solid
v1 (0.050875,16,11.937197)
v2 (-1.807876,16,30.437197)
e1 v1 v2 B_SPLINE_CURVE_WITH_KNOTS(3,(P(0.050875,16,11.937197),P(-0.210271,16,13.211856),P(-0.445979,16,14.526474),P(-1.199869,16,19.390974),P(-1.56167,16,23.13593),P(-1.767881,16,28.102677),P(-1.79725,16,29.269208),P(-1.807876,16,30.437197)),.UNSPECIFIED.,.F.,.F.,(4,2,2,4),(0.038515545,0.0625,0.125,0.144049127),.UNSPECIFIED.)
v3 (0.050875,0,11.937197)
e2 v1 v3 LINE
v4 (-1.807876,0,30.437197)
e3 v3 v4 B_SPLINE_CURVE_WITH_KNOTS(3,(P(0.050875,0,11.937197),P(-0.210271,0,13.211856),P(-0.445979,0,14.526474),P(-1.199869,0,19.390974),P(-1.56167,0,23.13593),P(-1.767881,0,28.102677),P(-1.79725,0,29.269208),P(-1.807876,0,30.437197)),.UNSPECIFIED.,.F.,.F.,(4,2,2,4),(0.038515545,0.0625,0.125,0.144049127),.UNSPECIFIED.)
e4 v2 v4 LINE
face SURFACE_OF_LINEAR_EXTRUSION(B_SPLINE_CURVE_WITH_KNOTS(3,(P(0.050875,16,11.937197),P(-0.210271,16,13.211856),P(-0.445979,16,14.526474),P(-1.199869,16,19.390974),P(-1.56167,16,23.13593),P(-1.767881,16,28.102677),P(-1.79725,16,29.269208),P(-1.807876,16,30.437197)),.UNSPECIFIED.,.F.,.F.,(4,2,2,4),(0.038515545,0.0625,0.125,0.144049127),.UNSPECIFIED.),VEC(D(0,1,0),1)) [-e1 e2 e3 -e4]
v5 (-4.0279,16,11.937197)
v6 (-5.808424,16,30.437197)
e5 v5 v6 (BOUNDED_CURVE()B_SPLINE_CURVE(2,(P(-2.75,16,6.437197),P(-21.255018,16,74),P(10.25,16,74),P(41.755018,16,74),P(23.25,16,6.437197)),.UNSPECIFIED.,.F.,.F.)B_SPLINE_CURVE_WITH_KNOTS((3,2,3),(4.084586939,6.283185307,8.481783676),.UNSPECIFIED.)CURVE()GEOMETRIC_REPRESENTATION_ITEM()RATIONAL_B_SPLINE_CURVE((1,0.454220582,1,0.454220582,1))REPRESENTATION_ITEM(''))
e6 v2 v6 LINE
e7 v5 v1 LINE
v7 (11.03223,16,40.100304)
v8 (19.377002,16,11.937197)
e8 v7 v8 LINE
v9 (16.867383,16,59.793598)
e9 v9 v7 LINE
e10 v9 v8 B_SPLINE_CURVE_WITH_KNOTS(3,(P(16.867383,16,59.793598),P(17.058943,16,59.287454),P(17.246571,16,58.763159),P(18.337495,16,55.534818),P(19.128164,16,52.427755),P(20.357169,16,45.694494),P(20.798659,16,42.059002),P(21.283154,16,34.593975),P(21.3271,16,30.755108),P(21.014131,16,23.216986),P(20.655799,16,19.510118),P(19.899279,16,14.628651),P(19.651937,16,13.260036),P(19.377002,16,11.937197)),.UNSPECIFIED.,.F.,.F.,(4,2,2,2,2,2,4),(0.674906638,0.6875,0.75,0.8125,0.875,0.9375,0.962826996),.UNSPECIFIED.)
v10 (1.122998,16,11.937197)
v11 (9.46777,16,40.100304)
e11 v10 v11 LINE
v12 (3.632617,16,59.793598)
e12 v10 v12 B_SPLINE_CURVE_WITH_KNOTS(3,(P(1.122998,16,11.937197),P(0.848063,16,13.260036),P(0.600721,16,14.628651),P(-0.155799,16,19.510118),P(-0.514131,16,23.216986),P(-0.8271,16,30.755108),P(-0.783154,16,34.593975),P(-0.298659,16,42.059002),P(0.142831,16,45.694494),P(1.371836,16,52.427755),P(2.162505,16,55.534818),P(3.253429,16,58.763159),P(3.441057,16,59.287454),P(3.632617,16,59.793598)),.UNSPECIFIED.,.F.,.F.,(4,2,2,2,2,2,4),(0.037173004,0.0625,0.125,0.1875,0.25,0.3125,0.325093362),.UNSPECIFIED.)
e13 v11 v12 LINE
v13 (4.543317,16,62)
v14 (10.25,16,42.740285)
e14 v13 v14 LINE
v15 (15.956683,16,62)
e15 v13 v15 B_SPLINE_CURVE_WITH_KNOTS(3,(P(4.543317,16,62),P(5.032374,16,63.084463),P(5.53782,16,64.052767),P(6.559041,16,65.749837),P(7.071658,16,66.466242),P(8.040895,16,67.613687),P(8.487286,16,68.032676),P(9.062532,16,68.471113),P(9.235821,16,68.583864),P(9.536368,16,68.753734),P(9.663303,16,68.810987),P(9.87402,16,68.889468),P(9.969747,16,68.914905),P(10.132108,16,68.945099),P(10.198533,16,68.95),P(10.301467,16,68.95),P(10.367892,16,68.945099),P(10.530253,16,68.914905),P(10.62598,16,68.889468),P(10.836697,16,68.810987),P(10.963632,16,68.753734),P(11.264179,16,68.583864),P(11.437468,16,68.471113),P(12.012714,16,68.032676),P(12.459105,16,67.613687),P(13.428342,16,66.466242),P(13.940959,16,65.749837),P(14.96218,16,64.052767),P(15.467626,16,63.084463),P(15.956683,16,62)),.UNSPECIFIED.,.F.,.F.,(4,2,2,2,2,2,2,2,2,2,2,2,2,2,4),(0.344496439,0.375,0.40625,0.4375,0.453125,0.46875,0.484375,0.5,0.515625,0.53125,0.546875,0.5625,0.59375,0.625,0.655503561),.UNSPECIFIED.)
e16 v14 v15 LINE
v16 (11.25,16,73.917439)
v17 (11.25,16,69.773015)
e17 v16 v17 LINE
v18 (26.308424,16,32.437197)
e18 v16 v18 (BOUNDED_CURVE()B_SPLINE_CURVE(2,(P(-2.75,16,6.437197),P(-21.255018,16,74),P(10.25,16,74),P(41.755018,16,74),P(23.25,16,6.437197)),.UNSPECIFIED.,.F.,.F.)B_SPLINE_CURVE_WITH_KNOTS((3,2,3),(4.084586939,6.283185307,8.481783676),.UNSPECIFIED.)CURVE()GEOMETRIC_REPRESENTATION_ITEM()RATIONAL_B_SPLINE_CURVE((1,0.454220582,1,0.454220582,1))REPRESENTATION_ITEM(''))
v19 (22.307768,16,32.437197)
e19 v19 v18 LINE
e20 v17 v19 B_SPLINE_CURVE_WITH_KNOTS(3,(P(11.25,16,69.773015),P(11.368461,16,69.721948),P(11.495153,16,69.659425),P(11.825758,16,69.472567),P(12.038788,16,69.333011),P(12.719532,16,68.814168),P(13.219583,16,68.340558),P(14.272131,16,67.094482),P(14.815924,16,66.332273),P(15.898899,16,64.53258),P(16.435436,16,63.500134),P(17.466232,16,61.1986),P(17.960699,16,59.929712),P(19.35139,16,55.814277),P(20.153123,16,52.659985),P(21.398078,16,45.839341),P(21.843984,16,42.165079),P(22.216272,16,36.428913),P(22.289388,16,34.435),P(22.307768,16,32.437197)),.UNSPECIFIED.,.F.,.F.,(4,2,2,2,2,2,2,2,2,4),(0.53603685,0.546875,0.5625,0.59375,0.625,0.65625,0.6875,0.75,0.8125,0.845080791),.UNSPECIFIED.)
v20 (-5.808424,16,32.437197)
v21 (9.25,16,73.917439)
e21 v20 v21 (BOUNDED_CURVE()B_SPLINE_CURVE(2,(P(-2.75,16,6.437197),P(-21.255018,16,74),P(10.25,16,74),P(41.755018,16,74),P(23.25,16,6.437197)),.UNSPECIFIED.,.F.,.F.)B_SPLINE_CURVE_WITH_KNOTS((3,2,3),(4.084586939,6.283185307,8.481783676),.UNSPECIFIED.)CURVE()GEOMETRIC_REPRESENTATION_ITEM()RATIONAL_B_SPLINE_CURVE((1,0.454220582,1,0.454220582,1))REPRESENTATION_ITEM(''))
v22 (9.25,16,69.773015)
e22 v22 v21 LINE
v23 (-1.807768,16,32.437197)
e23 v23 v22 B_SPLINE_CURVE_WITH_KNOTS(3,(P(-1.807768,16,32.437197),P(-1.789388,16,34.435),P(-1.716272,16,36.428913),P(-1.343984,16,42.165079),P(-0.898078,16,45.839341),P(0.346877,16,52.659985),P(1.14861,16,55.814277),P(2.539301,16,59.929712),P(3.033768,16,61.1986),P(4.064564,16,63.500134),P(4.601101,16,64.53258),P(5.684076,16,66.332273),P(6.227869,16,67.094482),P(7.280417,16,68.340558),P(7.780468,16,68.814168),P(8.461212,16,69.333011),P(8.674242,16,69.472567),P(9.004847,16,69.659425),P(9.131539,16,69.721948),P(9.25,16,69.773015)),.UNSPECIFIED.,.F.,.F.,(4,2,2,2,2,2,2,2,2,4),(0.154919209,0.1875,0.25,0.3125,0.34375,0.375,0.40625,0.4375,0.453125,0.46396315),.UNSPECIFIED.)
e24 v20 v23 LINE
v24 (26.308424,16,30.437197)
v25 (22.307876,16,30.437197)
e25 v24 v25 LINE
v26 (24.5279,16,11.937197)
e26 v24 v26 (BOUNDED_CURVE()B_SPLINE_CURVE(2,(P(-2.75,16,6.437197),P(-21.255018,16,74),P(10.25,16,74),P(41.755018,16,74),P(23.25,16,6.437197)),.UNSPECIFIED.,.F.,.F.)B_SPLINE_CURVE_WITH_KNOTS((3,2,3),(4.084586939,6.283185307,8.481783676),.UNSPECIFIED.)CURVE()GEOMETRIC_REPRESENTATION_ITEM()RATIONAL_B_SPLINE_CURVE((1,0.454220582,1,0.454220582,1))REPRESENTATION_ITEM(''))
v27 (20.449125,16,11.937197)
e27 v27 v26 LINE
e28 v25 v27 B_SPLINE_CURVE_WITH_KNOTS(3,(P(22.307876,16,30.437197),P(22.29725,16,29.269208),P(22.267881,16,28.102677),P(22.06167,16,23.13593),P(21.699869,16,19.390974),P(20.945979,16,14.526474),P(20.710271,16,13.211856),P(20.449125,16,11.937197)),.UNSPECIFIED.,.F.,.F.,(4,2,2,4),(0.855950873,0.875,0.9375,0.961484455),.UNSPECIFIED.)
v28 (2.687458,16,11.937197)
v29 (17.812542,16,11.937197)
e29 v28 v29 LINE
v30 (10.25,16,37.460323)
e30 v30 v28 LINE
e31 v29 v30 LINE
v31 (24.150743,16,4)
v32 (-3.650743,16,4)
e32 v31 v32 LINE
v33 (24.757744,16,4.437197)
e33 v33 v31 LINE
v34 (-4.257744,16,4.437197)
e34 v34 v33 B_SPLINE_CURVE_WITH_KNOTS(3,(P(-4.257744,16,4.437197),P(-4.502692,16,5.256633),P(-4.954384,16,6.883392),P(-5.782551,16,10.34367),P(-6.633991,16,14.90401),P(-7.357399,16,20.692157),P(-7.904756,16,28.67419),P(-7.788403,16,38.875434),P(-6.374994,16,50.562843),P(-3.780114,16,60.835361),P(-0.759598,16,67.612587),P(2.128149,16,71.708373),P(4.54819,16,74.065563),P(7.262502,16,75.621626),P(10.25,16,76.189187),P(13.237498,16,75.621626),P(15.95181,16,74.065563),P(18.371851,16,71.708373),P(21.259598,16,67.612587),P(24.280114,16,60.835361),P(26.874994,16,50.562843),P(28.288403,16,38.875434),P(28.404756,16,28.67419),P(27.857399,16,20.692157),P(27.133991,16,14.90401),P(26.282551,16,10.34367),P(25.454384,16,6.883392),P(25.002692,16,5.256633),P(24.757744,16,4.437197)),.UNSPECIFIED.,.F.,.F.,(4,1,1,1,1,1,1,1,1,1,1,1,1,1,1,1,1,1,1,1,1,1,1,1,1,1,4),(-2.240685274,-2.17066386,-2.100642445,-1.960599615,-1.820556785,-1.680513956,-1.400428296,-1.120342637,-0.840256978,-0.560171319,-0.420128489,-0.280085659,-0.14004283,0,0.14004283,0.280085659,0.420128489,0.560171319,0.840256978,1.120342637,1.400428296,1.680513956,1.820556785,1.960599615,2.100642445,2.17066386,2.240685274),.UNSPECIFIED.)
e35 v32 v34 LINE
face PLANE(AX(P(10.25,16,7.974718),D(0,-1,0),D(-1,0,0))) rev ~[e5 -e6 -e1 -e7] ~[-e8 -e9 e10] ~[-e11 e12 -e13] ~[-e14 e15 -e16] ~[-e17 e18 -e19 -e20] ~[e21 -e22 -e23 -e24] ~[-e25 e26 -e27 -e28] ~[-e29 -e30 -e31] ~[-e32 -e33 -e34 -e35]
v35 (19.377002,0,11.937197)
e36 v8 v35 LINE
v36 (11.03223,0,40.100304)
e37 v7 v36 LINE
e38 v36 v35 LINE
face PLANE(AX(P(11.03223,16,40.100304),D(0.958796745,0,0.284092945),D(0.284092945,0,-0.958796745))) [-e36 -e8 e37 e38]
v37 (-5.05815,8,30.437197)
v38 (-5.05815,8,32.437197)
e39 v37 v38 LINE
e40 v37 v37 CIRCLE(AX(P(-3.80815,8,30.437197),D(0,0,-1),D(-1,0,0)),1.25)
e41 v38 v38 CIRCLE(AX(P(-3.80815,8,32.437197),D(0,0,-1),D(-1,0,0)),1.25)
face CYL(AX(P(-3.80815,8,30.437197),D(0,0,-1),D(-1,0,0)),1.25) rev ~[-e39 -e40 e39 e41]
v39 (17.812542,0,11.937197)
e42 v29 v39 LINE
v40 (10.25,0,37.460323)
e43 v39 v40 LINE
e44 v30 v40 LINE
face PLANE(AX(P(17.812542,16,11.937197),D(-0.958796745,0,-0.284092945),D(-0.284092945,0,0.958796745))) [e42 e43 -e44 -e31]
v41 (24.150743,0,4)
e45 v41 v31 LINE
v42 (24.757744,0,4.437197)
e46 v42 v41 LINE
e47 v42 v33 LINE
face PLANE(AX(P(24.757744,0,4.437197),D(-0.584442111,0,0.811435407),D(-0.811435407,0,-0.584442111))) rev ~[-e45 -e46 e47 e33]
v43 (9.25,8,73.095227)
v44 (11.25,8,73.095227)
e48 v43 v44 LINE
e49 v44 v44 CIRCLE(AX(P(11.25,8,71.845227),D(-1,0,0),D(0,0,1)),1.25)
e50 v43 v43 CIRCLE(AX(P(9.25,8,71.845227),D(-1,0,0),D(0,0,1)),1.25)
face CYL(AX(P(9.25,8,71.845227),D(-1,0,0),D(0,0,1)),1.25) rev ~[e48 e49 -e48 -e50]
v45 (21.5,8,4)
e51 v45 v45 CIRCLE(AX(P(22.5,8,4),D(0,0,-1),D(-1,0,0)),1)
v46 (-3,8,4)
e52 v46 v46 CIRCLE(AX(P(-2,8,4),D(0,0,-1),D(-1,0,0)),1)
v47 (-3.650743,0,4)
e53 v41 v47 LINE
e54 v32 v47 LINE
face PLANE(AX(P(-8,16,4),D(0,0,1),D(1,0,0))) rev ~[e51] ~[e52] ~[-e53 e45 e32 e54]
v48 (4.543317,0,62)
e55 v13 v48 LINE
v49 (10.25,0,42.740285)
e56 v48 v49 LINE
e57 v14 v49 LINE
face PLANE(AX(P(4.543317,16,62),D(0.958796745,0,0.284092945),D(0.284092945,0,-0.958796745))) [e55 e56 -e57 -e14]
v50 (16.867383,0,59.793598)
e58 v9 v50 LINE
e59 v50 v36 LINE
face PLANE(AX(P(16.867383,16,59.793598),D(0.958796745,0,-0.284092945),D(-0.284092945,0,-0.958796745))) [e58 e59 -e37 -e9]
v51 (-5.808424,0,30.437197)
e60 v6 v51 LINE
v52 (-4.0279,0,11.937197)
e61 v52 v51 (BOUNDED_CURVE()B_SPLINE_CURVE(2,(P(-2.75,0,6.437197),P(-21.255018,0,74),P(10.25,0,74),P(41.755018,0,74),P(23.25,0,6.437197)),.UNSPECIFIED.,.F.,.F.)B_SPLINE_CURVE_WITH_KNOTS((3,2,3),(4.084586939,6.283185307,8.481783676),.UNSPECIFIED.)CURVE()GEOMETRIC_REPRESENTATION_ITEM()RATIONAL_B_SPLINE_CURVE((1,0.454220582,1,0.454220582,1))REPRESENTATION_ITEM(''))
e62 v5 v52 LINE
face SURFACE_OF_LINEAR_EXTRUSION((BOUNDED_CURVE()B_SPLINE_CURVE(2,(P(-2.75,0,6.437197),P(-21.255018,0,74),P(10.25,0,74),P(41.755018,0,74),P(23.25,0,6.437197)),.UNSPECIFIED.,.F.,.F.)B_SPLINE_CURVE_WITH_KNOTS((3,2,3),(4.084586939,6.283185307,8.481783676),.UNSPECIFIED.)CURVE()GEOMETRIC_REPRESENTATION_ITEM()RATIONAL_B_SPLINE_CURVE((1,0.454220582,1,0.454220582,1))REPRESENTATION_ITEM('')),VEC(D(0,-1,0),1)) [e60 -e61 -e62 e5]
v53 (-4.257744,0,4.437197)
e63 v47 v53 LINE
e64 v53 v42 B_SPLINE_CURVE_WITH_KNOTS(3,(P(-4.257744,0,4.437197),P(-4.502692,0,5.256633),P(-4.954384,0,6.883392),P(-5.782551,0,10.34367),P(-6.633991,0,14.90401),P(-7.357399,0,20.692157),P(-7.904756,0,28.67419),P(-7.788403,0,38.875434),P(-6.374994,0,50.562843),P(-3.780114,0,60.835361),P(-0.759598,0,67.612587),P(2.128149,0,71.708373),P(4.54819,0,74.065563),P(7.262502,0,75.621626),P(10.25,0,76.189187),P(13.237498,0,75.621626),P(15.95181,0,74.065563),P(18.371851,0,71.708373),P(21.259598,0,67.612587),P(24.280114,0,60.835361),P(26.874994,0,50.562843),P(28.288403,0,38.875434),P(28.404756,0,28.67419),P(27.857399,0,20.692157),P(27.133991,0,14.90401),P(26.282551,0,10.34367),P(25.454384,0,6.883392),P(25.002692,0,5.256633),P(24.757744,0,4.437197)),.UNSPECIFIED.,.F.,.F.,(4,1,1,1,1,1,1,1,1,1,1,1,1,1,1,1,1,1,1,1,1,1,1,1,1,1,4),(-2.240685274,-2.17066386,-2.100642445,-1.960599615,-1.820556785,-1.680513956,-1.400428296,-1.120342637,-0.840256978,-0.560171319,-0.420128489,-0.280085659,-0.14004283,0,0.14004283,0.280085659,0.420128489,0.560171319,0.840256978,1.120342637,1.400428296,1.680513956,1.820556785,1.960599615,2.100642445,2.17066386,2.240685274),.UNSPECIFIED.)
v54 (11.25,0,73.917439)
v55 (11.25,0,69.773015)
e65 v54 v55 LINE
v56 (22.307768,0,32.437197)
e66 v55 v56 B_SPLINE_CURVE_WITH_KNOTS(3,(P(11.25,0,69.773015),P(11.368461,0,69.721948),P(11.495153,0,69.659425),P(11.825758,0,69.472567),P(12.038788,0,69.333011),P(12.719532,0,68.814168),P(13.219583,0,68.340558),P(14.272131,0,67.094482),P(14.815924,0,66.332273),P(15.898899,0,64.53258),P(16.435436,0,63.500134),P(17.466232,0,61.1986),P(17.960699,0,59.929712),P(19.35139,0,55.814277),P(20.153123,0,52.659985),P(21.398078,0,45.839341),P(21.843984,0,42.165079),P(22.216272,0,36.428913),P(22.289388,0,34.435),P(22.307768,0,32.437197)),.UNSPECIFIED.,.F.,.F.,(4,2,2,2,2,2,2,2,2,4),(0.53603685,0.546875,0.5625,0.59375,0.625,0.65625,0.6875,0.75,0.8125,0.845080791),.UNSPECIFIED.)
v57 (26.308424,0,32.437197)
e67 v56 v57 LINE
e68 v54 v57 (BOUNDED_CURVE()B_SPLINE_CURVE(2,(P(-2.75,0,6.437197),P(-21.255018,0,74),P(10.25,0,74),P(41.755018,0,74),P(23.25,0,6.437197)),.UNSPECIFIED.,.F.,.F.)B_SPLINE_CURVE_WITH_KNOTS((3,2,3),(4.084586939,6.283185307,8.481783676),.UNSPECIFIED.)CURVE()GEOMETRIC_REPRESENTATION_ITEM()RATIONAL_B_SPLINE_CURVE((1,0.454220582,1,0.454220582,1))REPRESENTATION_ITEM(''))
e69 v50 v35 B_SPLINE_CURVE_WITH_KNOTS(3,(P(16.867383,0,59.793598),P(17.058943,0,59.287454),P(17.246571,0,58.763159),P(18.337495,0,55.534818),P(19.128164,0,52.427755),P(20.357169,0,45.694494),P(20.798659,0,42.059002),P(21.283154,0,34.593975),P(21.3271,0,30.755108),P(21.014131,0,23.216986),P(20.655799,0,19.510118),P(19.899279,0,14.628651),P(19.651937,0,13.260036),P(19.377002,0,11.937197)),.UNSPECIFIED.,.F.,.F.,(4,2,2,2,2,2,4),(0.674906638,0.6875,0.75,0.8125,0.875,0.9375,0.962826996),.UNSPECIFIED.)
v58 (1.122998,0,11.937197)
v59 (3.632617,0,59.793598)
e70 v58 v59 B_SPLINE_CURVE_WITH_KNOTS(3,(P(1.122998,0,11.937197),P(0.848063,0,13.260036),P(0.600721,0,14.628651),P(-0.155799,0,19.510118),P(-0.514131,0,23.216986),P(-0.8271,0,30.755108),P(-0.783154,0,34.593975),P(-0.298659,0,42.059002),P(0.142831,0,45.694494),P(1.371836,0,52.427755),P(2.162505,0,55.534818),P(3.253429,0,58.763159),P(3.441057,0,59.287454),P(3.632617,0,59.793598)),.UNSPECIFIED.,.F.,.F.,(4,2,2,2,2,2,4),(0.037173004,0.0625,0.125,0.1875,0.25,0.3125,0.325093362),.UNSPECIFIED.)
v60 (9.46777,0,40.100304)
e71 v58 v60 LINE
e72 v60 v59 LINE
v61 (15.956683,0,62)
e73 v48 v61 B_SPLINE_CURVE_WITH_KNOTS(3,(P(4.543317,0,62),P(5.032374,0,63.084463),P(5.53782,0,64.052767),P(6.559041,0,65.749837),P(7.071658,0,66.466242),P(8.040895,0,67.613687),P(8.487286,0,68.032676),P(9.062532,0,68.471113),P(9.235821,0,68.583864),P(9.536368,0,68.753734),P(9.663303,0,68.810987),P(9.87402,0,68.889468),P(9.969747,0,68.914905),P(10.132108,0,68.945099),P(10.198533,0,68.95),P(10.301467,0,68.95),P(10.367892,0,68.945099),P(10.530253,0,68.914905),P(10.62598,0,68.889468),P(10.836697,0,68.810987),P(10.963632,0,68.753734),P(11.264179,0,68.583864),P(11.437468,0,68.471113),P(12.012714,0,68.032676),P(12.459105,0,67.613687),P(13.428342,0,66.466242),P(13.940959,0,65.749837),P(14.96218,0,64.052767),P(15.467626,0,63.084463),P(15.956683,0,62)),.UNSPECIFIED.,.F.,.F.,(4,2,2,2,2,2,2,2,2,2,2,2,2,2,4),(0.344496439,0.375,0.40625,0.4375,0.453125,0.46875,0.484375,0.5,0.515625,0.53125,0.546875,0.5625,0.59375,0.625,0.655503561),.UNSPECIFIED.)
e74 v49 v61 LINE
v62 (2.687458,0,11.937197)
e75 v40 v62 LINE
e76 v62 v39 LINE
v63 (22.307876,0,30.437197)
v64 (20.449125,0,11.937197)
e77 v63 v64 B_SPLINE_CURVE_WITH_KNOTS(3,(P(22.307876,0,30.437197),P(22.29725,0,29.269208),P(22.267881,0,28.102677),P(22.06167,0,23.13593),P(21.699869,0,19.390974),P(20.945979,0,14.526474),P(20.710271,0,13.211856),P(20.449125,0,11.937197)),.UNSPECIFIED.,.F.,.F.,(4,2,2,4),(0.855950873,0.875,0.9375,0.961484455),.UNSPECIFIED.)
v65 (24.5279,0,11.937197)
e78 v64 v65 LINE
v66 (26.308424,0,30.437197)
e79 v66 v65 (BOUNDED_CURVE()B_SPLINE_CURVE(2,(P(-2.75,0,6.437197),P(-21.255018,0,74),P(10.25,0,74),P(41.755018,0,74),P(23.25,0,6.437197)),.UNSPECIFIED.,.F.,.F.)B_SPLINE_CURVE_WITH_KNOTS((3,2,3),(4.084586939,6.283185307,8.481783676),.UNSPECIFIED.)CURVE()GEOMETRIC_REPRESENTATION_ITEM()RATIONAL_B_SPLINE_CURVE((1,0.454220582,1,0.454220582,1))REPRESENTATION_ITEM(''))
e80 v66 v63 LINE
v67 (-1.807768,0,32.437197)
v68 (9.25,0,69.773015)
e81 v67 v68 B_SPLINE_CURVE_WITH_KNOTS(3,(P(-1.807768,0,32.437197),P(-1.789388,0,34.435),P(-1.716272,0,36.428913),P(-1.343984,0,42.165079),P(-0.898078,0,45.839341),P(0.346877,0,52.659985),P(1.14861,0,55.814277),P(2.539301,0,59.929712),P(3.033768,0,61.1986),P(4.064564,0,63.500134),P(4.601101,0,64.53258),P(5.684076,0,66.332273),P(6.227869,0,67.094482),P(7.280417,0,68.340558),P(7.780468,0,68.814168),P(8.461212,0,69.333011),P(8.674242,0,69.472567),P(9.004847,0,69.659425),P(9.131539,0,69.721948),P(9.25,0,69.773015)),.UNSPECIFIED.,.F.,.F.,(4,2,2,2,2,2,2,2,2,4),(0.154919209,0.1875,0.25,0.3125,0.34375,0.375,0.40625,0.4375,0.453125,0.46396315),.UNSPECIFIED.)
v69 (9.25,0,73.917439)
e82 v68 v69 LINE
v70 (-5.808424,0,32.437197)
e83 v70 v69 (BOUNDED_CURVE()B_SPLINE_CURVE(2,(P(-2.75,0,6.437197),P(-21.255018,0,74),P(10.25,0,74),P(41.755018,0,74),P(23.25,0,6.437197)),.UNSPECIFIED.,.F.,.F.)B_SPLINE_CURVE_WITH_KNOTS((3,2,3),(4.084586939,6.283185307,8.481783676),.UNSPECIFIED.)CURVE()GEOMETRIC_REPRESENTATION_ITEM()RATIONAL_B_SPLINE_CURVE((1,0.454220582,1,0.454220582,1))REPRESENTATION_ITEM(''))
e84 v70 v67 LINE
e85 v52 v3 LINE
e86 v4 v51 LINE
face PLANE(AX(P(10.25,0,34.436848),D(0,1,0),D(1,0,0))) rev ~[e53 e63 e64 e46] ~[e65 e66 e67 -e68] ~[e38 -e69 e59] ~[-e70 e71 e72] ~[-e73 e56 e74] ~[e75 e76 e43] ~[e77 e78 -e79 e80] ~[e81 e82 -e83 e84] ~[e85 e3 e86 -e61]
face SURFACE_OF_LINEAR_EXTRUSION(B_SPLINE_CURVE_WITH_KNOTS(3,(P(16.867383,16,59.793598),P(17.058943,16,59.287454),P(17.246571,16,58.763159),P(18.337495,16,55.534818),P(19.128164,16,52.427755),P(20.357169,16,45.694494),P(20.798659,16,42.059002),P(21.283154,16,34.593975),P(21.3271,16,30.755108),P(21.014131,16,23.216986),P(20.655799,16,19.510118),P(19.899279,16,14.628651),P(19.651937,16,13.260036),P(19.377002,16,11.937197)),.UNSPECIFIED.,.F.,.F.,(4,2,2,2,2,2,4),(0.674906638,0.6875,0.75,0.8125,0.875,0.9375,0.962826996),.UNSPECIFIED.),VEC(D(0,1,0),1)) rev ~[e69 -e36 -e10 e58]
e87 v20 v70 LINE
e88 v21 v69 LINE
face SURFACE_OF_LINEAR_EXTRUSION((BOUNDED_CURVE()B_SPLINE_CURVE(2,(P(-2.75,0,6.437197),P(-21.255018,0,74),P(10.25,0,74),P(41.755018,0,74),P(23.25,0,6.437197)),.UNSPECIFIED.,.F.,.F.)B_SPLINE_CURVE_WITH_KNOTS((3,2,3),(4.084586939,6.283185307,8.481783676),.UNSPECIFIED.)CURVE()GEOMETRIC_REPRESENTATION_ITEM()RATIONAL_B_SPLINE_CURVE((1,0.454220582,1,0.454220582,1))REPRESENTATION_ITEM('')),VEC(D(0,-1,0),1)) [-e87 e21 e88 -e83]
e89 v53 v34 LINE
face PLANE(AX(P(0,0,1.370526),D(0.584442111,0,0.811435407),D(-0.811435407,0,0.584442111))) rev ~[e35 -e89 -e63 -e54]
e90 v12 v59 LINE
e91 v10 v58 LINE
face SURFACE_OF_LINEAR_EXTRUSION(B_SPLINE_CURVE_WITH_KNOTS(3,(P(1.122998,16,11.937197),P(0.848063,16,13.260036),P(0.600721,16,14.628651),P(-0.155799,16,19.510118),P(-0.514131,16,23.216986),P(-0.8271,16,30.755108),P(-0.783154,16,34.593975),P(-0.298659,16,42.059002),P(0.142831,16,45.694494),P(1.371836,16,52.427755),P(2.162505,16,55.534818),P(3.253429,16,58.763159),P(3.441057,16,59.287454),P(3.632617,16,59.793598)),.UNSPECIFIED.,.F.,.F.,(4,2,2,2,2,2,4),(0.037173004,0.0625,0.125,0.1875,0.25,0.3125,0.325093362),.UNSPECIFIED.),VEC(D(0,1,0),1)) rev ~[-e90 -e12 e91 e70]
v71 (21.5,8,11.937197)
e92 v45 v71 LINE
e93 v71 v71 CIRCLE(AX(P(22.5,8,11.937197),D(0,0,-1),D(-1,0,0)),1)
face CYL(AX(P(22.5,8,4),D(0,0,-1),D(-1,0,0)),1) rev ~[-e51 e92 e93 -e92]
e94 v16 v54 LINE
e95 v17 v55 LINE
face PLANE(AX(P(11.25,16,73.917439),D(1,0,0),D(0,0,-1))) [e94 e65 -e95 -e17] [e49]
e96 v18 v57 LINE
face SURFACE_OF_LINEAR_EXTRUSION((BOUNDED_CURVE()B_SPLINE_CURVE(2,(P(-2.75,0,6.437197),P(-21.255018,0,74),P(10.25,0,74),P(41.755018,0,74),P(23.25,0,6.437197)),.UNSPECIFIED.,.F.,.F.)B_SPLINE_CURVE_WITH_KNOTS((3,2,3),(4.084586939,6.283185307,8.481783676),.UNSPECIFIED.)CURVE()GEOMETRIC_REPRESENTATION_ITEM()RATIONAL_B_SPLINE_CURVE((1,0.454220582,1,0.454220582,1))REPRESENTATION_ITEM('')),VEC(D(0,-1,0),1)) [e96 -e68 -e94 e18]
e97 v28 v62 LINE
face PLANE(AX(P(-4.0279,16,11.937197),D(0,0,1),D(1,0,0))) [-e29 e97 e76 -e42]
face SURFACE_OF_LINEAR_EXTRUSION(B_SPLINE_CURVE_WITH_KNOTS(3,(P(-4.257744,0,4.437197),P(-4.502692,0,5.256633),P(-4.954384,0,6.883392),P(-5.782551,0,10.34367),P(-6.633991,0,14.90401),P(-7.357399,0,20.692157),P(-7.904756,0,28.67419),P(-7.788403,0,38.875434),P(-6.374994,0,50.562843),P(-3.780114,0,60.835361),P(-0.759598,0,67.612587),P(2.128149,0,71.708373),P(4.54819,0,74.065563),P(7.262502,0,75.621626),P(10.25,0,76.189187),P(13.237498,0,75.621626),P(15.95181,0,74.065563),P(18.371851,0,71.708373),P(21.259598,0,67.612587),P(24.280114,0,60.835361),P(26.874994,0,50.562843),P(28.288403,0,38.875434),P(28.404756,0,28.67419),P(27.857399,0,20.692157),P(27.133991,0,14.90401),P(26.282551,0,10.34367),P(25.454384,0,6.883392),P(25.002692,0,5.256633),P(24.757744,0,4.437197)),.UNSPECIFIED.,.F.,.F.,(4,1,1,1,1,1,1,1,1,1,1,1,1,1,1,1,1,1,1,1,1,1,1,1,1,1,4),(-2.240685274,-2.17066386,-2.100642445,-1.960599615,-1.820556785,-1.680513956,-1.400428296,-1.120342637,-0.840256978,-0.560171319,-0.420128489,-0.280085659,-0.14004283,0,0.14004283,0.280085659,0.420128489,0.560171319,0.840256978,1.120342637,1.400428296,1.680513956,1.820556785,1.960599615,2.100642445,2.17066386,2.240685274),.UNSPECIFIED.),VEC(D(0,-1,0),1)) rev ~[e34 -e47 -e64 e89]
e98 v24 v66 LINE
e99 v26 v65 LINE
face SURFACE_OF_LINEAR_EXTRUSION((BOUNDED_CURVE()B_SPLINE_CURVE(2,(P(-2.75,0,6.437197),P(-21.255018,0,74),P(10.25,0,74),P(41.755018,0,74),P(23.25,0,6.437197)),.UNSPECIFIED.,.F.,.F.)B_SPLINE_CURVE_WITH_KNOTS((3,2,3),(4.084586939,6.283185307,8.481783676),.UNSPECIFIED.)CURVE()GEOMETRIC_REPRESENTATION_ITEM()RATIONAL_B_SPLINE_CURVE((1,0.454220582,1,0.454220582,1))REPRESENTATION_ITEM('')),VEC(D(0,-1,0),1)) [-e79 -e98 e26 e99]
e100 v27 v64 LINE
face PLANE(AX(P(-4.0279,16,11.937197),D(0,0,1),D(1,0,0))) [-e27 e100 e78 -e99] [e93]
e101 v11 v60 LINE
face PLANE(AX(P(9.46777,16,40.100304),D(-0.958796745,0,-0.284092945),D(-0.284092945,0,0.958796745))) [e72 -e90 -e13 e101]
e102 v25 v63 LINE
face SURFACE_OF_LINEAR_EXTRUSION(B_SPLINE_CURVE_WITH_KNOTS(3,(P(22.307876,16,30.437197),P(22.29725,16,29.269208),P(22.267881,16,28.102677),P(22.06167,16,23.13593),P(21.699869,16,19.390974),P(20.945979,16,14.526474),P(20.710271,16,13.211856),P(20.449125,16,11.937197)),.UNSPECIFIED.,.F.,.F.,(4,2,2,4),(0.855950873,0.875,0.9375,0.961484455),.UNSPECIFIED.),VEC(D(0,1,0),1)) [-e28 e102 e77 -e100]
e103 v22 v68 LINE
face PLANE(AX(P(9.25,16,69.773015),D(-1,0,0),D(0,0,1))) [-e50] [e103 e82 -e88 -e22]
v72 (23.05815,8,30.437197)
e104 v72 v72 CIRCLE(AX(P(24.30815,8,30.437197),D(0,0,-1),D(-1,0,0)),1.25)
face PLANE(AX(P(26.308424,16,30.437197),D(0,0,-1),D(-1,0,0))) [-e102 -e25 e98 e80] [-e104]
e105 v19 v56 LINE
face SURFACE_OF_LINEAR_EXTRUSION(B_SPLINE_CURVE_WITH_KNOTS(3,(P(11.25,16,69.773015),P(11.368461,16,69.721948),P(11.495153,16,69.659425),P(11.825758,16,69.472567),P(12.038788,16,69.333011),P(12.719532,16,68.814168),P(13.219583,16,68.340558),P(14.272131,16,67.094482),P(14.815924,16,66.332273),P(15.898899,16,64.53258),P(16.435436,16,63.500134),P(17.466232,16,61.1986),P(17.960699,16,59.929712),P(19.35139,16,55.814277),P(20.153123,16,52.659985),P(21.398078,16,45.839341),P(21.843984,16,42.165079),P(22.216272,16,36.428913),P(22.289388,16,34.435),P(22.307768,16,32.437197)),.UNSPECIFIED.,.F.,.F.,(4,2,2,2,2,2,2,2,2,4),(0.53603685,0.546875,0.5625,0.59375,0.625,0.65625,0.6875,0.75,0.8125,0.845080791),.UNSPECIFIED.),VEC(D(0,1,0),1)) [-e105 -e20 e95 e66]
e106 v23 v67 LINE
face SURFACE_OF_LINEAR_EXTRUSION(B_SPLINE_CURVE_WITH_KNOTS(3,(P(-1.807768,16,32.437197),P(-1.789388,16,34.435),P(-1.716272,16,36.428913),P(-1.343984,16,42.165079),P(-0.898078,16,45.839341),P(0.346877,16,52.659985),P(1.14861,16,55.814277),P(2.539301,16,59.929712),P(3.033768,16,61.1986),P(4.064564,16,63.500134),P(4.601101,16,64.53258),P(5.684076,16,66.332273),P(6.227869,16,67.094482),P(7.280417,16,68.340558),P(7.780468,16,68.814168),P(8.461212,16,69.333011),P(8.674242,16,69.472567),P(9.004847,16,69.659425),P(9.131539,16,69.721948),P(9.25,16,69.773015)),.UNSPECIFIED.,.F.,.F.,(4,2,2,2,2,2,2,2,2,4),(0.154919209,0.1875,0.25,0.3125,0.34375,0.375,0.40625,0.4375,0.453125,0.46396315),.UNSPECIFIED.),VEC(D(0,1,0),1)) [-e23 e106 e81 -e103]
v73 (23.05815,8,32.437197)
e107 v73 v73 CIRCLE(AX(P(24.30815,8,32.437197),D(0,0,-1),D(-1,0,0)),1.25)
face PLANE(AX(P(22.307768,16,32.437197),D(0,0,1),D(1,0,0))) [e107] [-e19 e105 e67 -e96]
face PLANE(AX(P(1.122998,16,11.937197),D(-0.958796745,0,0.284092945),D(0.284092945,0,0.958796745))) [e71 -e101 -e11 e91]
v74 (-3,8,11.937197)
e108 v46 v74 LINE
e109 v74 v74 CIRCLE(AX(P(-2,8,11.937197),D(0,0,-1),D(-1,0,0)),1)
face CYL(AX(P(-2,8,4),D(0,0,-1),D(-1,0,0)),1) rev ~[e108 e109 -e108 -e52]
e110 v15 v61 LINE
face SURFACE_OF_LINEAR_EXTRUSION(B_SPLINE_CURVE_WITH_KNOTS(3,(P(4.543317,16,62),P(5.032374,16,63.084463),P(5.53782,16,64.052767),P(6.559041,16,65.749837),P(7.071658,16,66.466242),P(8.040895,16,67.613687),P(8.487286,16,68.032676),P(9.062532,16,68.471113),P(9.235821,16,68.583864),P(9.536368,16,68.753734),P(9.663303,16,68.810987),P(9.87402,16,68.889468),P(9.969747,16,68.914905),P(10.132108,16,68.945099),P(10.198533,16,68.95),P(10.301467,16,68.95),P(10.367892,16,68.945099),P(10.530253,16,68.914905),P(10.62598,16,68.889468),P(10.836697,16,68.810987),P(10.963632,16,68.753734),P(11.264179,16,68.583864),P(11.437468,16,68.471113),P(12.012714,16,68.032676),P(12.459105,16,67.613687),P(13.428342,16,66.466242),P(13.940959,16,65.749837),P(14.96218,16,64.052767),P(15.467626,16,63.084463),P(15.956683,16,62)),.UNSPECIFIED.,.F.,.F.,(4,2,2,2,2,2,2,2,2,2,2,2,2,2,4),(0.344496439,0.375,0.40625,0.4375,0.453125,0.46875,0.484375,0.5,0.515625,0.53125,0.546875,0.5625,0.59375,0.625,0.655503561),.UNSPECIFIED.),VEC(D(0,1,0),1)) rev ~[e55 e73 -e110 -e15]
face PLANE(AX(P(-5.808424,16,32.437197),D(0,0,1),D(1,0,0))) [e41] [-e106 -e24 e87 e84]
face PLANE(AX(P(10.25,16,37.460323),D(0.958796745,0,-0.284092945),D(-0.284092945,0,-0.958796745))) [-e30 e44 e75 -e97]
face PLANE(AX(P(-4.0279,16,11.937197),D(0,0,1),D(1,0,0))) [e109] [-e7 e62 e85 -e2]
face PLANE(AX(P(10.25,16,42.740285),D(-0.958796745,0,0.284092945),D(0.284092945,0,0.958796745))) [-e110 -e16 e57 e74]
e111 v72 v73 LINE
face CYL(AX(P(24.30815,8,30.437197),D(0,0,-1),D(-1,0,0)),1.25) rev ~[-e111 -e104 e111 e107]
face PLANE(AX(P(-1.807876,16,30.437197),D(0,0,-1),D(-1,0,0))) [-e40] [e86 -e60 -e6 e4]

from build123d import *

# Parameters (mm, degrees)
BOSS_EXTRUDE1_DEPTH = 16
BOSS_EXTRUDE2_DEPTH = 16
BOSS_EXTRUDE3_DEPTH = 16
BOSS_EXTRUDE4_DEPTH = 16
SKETCH9_W           = 40
SKETCH9_H           = 24
CUT_EXTRUDE4_DEPTH  = 22
SKETCH10_R          = 1
CUT_EXTRUDE5_DEPTH  = 10
SKETCH25_R          = 1.25
CUT_EXTRUDE12_DEPTH = 4
SKETCH23_R          = 1.25
CUT_EXTRUDE13_DEPTH = 4
SKETCH24_R          = 1.25
CUT_EXTRUDE14_DEPTH = 3


with BuildPart() as part:
    # Sketch1 → Boss-Extrude1 (new body)
    with BuildSketch(Plane(origin=(0, 0, 0), x_dir=(1, 0, 0), z_dir=(0, 1, 0))):
        with BuildLine():
            Line((0, 0), (0, -1.370526213))
            Line((0, -1.370526213), (-4.257744064, -4.437196595))
            add(Edge.make_bspline(
                [(-4.257744064, -4.437196595), (-4.502691757, -5.256633093), (-4.954383697, -6.883392156), (-5.782550999, -10.343670153), (-6.633990879, -14.904009628), (-7.357399252, -20.692157262), (-7.904756341, -28.674189668), (-7.788402639, -38.875434181), (-6.374993684, -50.562842935), (-3.780113753, -60.835361347), (-0.759598491, -67.612587129), (2.128148554, -71.70837272), (4.548190426, -74.065562813), (7.262501719, -75.621626405), (10.25, -76.189186798), (13.237498281, -75.621626405), (15.951809575, -74.065562813), (18.371851447, -71.70837272), (21.259598492, -67.612587128), (24.280113753, -60.835361347), (26.874993684, -50.562842934), (28.28840264, -38.87543418), (28.404756341, -28.674189668), (27.857399252, -20.692157261), (27.133990879, -14.904009627), (26.282550999, -10.343670152), (25.454383697, -6.883392155), (25.002691757, -5.256633093), (24.757744064, -4.437196595)],
                knots=[-2.240685274, -2.240685274, -2.240685274, -2.240685274, -2.17066386, -2.100642445, -1.960599615, -1.820556785, -1.680513956, -1.400428296, -1.120342637, -0.840256978, -0.560171319, -0.420128489, -0.280085659, -0.14004283, 0, 0.14004283, 0.280085659, 0.420128489, 0.560171319, 0.840256978, 1.120342637, 1.400428296, 1.680513956, 1.820556785, 1.960599615, 2.100642445, 2.17066386, 2.240685274, 2.240685274, 2.240685274, 2.240685274], degree=3))
            Line((24.757744064, -4.437196595), (20.5, -1.370526213))
            Line((20.5, -1.370526213), (20.5, 0))
            Line((20.5, 0), (16.5, 0))
            Line((16.5, 0), (16.5, -4))
            Line((16.5, -4), (4, -4))
            Line((4, -4), (4, 0))
            Line((4, 0), (0, 0))
        make_face()
        with BuildLine():
            Line((-2.75, -6.437196595), (23.25, -6.437196595))
            add(Edge.make_bspline(
                [(-2.75, -6.437196595), (-21.25501839, -74), (10.25, -74), (41.75501839, -74), (23.25, -6.437196595)],
                knots=[4.084586939, 4.084586939, 4.084586939, 6.283185307, 6.283185307, 8.481783676, 8.481783676, 8.481783676], degree=2, weights=[1, 0.454220582, 1, 0.454220582, 1]))
        make_face(mode=Mode.SUBTRACT)
    extrude(amount=BOSS_EXTRUDE1_DEPTH)

    # Sketch4 → Boss-Extrude2 (add)
    with BuildSketch(Plane(origin=(0, 16, 0), x_dir=(1, 0, 0), z_dir=(0, 1, 0))):
        with BuildLine():
            Line((24.000704622, -9.437196595), (-3.500704622, -9.437196595))
            add(Edge.make_bspline(
                [(-3.500704622, -9.437196595), (-3.78018184, -10.663685094), (-4.027900282, -11.937196595)],
                knots=[4.169182878, 4.169182878, 4.169182878, 4.236480106, 4.236480106, 4.236480106], degree=2, weights=[1, 0.999433939, 1]))
            Line((-4.027900282, -11.937196595), (-0.970025558, -11.937196595))
            Line((-0.970025558, -11.937196595), (13.964140864, -11.937196595))
            Line((13.964140864, -11.937196595), (15.124869395, -11.937196595))
            Line((15.124869395, -11.937196595), (21.469998047, -11.937196595))
            Line((21.469998047, -11.937196595), (24.527900282, -11.937196595))
            add(Edge.make_bspline(
                [(24.527900282, -11.937196595), (24.28018184, -10.663685094), (24.000704622, -9.437196595)],
                knots=[2.046705202, 2.046705202, 2.046705202, 2.114002429, 2.114002429, 2.114002429], degree=2, weights=[1, 0.999433939, 1]))
        make_face()
    extrude(amount=-BOSS_EXTRUDE2_DEPTH)

    # Sketch5 → Boss-Extrude3 (add)
    with BuildSketch(Plane(origin=(0, 16, 0), x_dir=(1, 0, 0), z_dir=(0, 1, 0))):
        with BuildLine():
            add(Edge.make_bspline(
                [(-1.608424276, -30.437196595), (-1.619611068, -31.103668087), (-1.61967472, -31.770333643), (-1.608424276, -32.437196595)],
                knots=[0.190744117, 0.190744117, 0.190744117, 0.190744117, 0.208396529, 0.208396529, 0.208396529, 0.208396529], degree=3))
            Line((-1.608424276, -30.437196595), (-1.807876391, -30.437196595))
            add(Edge.make_bspline(
                [(-1.807876391, -30.437196595), (-1.813940107, -31.103690976), (-1.813900605, -31.770660251), (-1.807768348, -32.437196595)],
                knots=[0.144049127, 0.144049127, 0.144049127, 0.144049127, 0.154919209, 0.154919209, 0.154919209, 0.154919209], degree=3))
            Line((-1.807768348, -32.437196595), (-1.608424276, -32.437196595))
        make_face()
        with BuildLine():
            Line((-1.807876391, -30.437196595), (-1.608424276, -30.437196595))
            add(Edge.make_bspline(
                [(-1.608424276, -30.437196595), (-1.619611068, -31.103668087), (-1.61967472, -31.770333643), (-1.608424276, -32.437196595)],
                knots=[0.190744117, 0.190744117, 0.190744117, 0.190744117, 0.208396529, 0.208396529, 0.208396529, 0.208396529], degree=3))
            Line((-1.608424276, -32.437196595), (-1.807768348, -32.437196595))
            add(Edge.make_bspline(
                [(-1.807768348, -32.437196595), (-1.789388193, -34.434999523), (-1.716272251, -36.4289131), (-1.343983644, -42.165079283), (-0.898077823, -45.839341341), (0.346876684, -52.659985034), (1.148610045, -55.814277325), (2.539301489, -59.929712099), (3.033767625, -61.19859966), (4.064563561, -63.500134075), (4.601101045, -64.532580437), (5.684075645, -66.332273168), (6.227868525, -67.094482279), (7.280417204, -68.340557688), (7.780467879, -68.814167582), (8.461212451, -69.333011167), (8.674242477, -69.472567343), (9.004847349, -69.659425489), (9.131539116, -69.72194754), (9.25, -69.773015091)],
                knots=[0.154919209, 0.154919209, 0.154919209, 0.154919209, 0.1875, 0.1875, 0.25, 0.25, 0.3125, 0.3125, 0.34375, 0.34375, 0.375, 0.375, 0.40625, 0.40625, 0.4375, 0.4375, 0.453125, 0.453125, 0.46396315, 0.46396315, 0.46396315, 0.46396315], degree=3))
            Line((9.25, -69.773015091), (9.25, -69.717438801))
            add(Edge.make_bspline(
                [(9.25, -69.717438801), (9.315593579, -69.729498649), (9.381443278, -69.740423705), (9.744226149, -69.79399534), (10.049003109, -69.814068253), (10.64971774, -69.803069524), (10.946917103, -69.772686626), (11.244110839, -69.718519431), (11.247055464, -69.717980316), (11.25, -69.717438801)],
                knots=[0.490446512, 0.490446512, 0.490446512, 0.490446512, 0.4921875, 0.4921875, 0.5, 0.5, 0.5078125, 0.5078125, 0.507890684, 0.507890684, 0.507890684, 0.507890684], degree=3))
            Line((11.25, -69.717438801), (11.25, -69.773015091))
            add(Edge.make_bspline(
                [(11.25, -69.773015091), (11.368460884, -69.72194754), (11.495152652, -69.659425489), (11.825757523, -69.472567343), (12.038787549, -69.333011167), (12.719532121, -68.814167582), (13.219582797, -68.340557688), (14.272131475, -67.094482279), (14.815924355, -66.332273168), (15.898898955, -64.532580436), (16.43543644, -63.500134074), (17.466232375, -61.19859966), (17.960698511, -59.929712099), (19.351389955, -55.814277324), (20.153123316, -52.659985033), (21.398077823, -45.839341341), (21.843983644, -42.165079283), (22.216272251, -36.428913099), (22.289388193, -34.434999523), (22.307768348, -32.437196595)],
                knots=[0.53603685, 0.53603685, 0.53603685, 0.53603685, 0.546875, 0.546875, 0.5625, 0.5625, 0.59375, 0.59375, 0.625, 0.625, 0.65625, 0.65625, 0.6875, 0.6875, 0.75, 0.75, 0.8125, 0.8125, 0.845080791, 0.845080791, 0.845080791, 0.845080791], degree=3))
            Line((22.307768348, -32.437196595), (22.108424276, -32.437196595))
            add(Edge.make_bspline(
                [(22.108424276, -32.437196595), (22.119695454, -31.769452391), (22.119650331, -31.102790038), (22.108424276, -30.437196595)],
                knots=[0.791085814, 0.791085814, 0.791085814, 0.791085814, 0.808681538, 0.808681538, 0.808681538, 0.808681538], degree=3))
            Line((22.108424276, -30.437196595), (22.307876391, -30.437196595))
            add(Edge.make_bspline(
                [(22.307876391, -30.437196595), (22.297250113, -29.269207558), (22.26788065, -28.102676939), (22.06166982, -23.135930047), (21.699868558, -19.390973641), (20.945979085, -14.52647439), (20.710270678, -13.21185597), (20.449124772, -11.937196595)],
                knots=[0.855950873, 0.855950873, 0.855950873, 0.855950873, 0.875, 0.875, 0.9375, 0.9375, 0.961484455, 0.961484455, 0.961484455, 0.961484455], degree=3))
            Line((20.449124772, -11.937196595), (19.377002413, -11.937196595))
            add(Edge.make_bspline(
                [(16.867383437, -59.793597718), (17.058943161, -59.287454336), (17.246571447, -58.763158668), (18.337495295, -55.534817861), (19.128163997, -52.42775466), (20.357168692, -45.694494072), (20.798659176, -42.059001665), (21.283154269, -34.593975027), (21.327100461, -30.75510805), (21.014130546, -23.216986247), (20.655798524, -19.510117544), (19.899279436, -14.628650611), (19.651937101, -13.260035708), (19.377002413, -11.937196595)],
                knots=[0.674906638, 0.674906638, 0.674906638, 0.674906638, 0.6875, 0.6875, 0.75, 0.75, 0.8125, 0.8125, 0.875, 0.875, 0.9375, 0.9375, 0.962826996, 0.962826996, 0.962826996, 0.962826996], degree=3))
            add(Edge.make_bspline(
                [(15.956682934, -62), (15.96865042, -61.973462611), (15.980608092, -61.946855666), (16.291176533, -61.253426512), (16.58359423, -60.543431901), (16.867383437, -59.793597718)],
                knots=[0.655503561, 0.655503561, 0.655503561, 0.655503561, 0.65625, 0.65625, 0.674906638, 0.674906638, 0.674906638, 0.674906638], degree=3))
            add(Edge.make_bspline(
                [(4.543317066, -62), (5.032373999, -63.084462839), (5.537820077, -64.052767242), (6.559040753, -65.749836986), (7.071658453, -66.466242071), (8.040895108, -67.613687302), (8.487285543, -68.032676172), (9.062532464, -68.471112536), (9.235821046, -68.583864307), (9.536368312, -68.753733869), (9.663303314, -68.81098681), (9.874020239, -68.889467775), (9.969747255, -68.914904632), (10.132107878, -68.945098766), (10.198533056, -68.95), (10.301466944, -68.95), (10.367892122, -68.945098766), (10.530252745, -68.914904632), (10.625979761, -68.889467775), (10.836696686, -68.81098681), (10.963631688, -68.753733869), (11.264178954, -68.583864307), (11.437467536, -68.471112536), (12.012714457, -68.032676172), (12.459104892, -67.613687302), (13.428341547, -66.466242071), (13.940959248, -65.749836986), (14.962179923, -64.052767242), (15.467626001, -63.084462839), (15.956682934, -62)],
                knots=[0.344496439, 0.344496439, 0.344496439, 0.344496439, 0.375, 0.375, 0.40625, 0.40625, 0.4375, 0.4375, 0.453125, 0.453125, 0.46875, 0.46875, 0.484375, 0.484375, 0.5, 0.5, 0.515625, 0.515625, 0.53125, 0.53125, 0.546875, 0.546875, 0.5625, 0.5625, 0.59375, 0.59375, 0.625, 0.625, 0.655503561, 0.655503561, 0.655503561, 0.655503561], degree=3))
            add(Edge.make_bspline(
                [(3.632616563, -59.793597718), (3.91640577, -60.543431901), (4.208823468, -61.253426512), (4.519391908, -61.946855666), (4.53134958, -61.973462611), (4.543317066, -62)],
                knots=[0.325093362, 0.325093362, 0.325093362, 0.325093362, 0.34375, 0.34375, 0.344496439, 0.344496439, 0.344496439, 0.344496439], degree=3))
            add(Edge.make_bspline(
                [(1.122997587, -11.937196595), (0.848062899, -13.260035708), (0.600720564, -14.628650611), (-0.155798524, -19.510117545), (-0.514130546, -23.216986247), (-0.827100461, -30.755108051), (-0.783154269, -34.593975028), (-0.298659176, -42.059001666), (0.142831308, -45.694494073), (1.371836003, -52.42775466), (2.162504705, -55.534817862), (3.253428553, -58.763158669), (3.441056839, -59.287454336), (3.632616563, -59.793597718)],
                knots=[0.037173004, 0.037173004, 0.037173004, 0.037173004, 0.0625, 0.0625, 0.125, 0.125, 0.1875, 0.1875, 0.25, 0.25, 0.3125, 0.3125, 0.325093362, 0.325093362, 0.325093362, 0.325093362], degree=3))
            Line((1.122997587, -11.937196595), (0.050875228, -11.937196595))
            add(Edge.make_bspline(
                [(0.050875228, -11.937196595), (-0.210270679, -13.21185597), (-0.445979085, -14.526474391), (-1.199868558, -19.390973642), (-1.56166982, -23.135930047), (-1.76788065, -28.10267694), (-1.797250113, -29.269207559), (-1.807876391, -30.437196595)],
                knots=[0.038515545, 0.038515545, 0.038515545, 0.038515545, 0.0625, 0.0625, 0.125, 0.125, 0.144049127, 0.144049127, 0.144049127, 0.144049127], degree=3))
        make_face()
        with BuildLine():
            add(Edge.make_bspline(
                [(-1.807876391, -30.437196595), (-1.813940107, -31.103690976), (-1.813900605, -31.770660251), (-1.807768348, -32.437196595)],
                knots=[0.144049127, 0.144049127, 0.144049127, 0.144049127, 0.154919209, 0.154919209, 0.154919209, 0.154919209], degree=3))
            Line((-1.807876391, -30.437196595), (-5.808424276, -30.437196595))
            add(Edge.make_bspline(
                [(-5.808424276, -30.437196595), (-5.817293432, -31.437196595), (-5.808424276, -32.437196595)],
                knots=[4.688892125, 4.688892125, 4.688892125, 4.735885835, 4.735885835, 4.735885835], degree=2, weights=[1, 0.999723962, 1]))
            Line((-5.808424276, -32.437196595), (-1.807768348, -32.437196595))
        make_face()
        with BuildLine():
            Line((2.687458467, -11.937196595), (1.122997587, -11.937196595))
            Line((1.122997587, -11.937196595), (9.46776956, -40.100304344))
            Line((9.46776956, -40.100304344), (3.632616563, -59.793597718))
            add(Edge.make_bspline(
                [(3.632616563, -59.793597718), (3.91640577, -60.543431901), (4.208823468, -61.253426512), (4.519391908, -61.946855666), (4.53134958, -61.973462611), (4.543317066, -62)],
                knots=[0.325093362, 0.325093362, 0.325093362, 0.325093362, 0.34375, 0.34375, 0.344496439, 0.344496439, 0.344496439, 0.344496439], degree=3))
            Line((4.543317066, -62), (10.25, -42.740285429))
            Line((10.25, -42.740285429), (15.956682934, -62))
            add(Edge.make_bspline(
                [(15.956682934, -62), (15.96865042, -61.973462611), (15.980608092, -61.946855666), (16.291176533, -61.253426512), (16.58359423, -60.543431901), (16.867383437, -59.793597718)],
                knots=[0.655503561, 0.655503561, 0.655503561, 0.655503561, 0.65625, 0.65625, 0.674906638, 0.674906638, 0.674906638, 0.674906638], degree=3))
            Line((16.867383437, -59.793597718), (11.03223044, -40.100304344))
            Line((11.03223044, -40.100304344), (19.377002413, -11.937196595))
            Line((19.377002413, -11.937196595), (17.812541533, -11.937196595))
            Line((17.812541533, -11.937196595), (10.25, -37.460323259))
            Line((10.25, -37.460323259), (2.687458467, -11.937196595))
        make_face()
        with BuildLine():
            add(Edge.make_bspline(
                [(9.25, -69.773015091), (9.302320225, -69.795569926), (9.353034857, -69.815890338), (9.56261905, -69.89394942), (9.7165513, -69.935820516), (10.001350762, -69.988784548), (10.132040587, -70), (10.367959413, -70), (10.498649238, -69.988784548), (10.7834487, -69.935820516), (10.93738095, -69.89394942), (11.146965144, -69.815890338), (11.197679775, -69.795569926), (11.25, -69.773015091)],
                knots=[0.46396315, 0.46396315, 0.46396315, 0.46396315, 0.46875, 0.46875, 0.484375, 0.484375, 0.5, 0.5, 0.515625, 0.515625, 0.53125, 0.53125, 0.53603685, 0.53603685, 0.53603685, 0.53603685], degree=3))
            Line((9.25, -69.773015091), (9.25, -73.917438801))
            add(Edge.make_bspline(
                [(9.25, -73.917438801), (10.25, -74.082721658), (11.25, -73.917438801)],
                knots=[6.220889602, 6.220889602, 6.220889602, 6.345481013, 6.345481013, 6.345481013], degree=2, weights=[1, 0.99806025, 1]))
            Line((11.25, -73.917438801), (11.25, -69.773015091))
        make_face()
        with BuildLine():
            Line((9.25, -69.717438801), (9.25, -69.773015091))
            add(Edge.make_bspline(
                [(9.25, -69.773015091), (9.302320225, -69.795569926), (9.353034857, -69.815890338), (9.56261905, -69.89394942), (9.7165513, -69.935820516), (10.001350762, -69.988784548), (10.132040587, -70), (10.367959413, -70), (10.498649238, -69.988784548), (10.7834487, -69.935820516), (10.93738095, -69.89394942), (11.146965144, -69.815890338), (11.197679775, -69.795569926), (11.25, -69.773015091)],
                knots=[0.46396315, 0.46396315, 0.46396315, 0.46396315, 0.46875, 0.46875, 0.484375, 0.484375, 0.5, 0.5, 0.515625, 0.515625, 0.53125, 0.53125, 0.53603685, 0.53603685, 0.53603685, 0.53603685], degree=3))
            Line((11.25, -69.773015091), (11.25, -69.717438801))
            add(Edge.make_bspline(
                [(9.25, -69.717438801), (9.315593579, -69.729498649), (9.381443278, -69.740423705), (9.744226149, -69.79399534), (10.049003109, -69.814068253), (10.64971774, -69.803069524), (10.946917103, -69.772686626), (11.244110839, -69.718519431), (11.247055464, -69.717980316), (11.25, -69.717438801)],
                knots=[0.490446512, 0.490446512, 0.490446512, 0.490446512, 0.4921875, 0.4921875, 0.5, 0.5, 0.5078125, 0.5078125, 0.507890684, 0.507890684, 0.507890684, 0.507890684], degree=3))
        make_face()
        with BuildLine():
            add(Edge.make_bspline(
                [(22.307768348, -32.437196595), (22.313900605, -31.770660251), (22.313940107, -31.103690976), (22.307876391, -30.437196595)],
                knots=[0.845080791, 0.845080791, 0.845080791, 0.845080791, 0.855950873, 0.855950873, 0.855950873, 0.855950873], degree=3))
            Line((22.307768348, -32.437196595), (26.308424276, -32.437196595))
            add(Edge.make_bspline(
                [(26.308424276, -32.437196595), (26.317293432, -31.437196595), (26.308424276, -30.437196595)],
                knots=[7.791293784, 7.791293784, 7.791293784, 7.835892212, 7.835892212, 7.835892212], degree=2, weights=[0.764849854, 0.768966994, 0.773533288]))
            Line((26.308424276, -30.437196595), (22.307876391, -30.437196595))
        make_face()
        with BuildLine():
            Line((22.108424276, -32.437196595), (22.307768348, -32.437196595))
            add(Edge.make_bspline(
                [(22.307768348, -32.437196595), (22.313900605, -31.770660251), (22.313940107, -31.103690976), (22.307876391, -30.437196595)],
                knots=[0.845080791, 0.845080791, 0.845080791, 0.845080791, 0.855950873, 0.855950873, 0.855950873, 0.855950873], degree=3))
            Line((22.307876391, -30.437196595), (22.108424276, -30.437196595))
            add(Edge.make_bspline(
                [(22.108424276, -32.437196595), (22.119695454, -31.769452391), (22.119650331, -31.102790038), (22.108424276, -30.437196595)],
                knots=[0.791085814, 0.791085814, 0.791085814, 0.791085814, 0.808681538, 0.808681538, 0.808681538, 0.808681538], degree=3))
        make_face()
    extrude(amount=-BOSS_EXTRUDE3_DEPTH)

    # Sketch7 → Boss-Extrude4 (add)
    with BuildSketch(Plane(origin=(0, 16, 0), x_dir=(1, 0, 0), z_dir=(0, 1, 0))):
        with BuildLine():
            Line((-2.75, -6.437196595), (23.25, -6.437196595))
            add(Edge.make_bspline(
                [(24.000704622, -9.437196595), (23.649310969, -7.895102117), (23.25, -6.437196595)],
                knots=[2.114002429, 2.114002429, 2.114002429, 2.198598368, 2.198598368, 2.198598368], degree=2, weights=[1, 0.999105574, 1]))
            Line((24.000704622, -9.437196595), (-3.500704622, -9.437196595))
            add(Edge.make_bspline(
                [(-2.75, -6.437196595), (-3.149310969, -7.895102117), (-3.500704622, -9.437196595)],
                knots=[4.084586939, 4.084586939, 4.084586939, 4.169182878, 4.169182878, 4.169182878], degree=2, weights=[1, 0.999105574, 1]))
        make_face()
    extrude(amount=-BOSS_EXTRUDE4_DEPTH)

    # Sketch9 → Cut-Extrude4 (cut)
    with BuildSketch(Plane(origin=(0, 16, 0), x_dir=(1, 0, 0), z_dir=(0, 1, 0))):
        with Locations((12, 8)):
            Rectangle(SKETCH9_W, SKETCH9_H)
    extrude(amount=-CUT_EXTRUDE4_DEPTH, mode=Mode.SUBTRACT)

    # Sketch10 → Cut-Extrude5 (cut)
    with BuildSketch(Plane(origin=(0, 0, 4), x_dir=(-1, 0, 0), z_dir=(0, 0, -1))):
        with Locations((-22.5, 8)):
            Circle(SKETCH10_R)
        with Locations((2, 8)):
            Circle(SKETCH10_R)
    extrude(amount=-CUT_EXTRUDE5_DEPTH, mode=Mode.SUBTRACT)

    # Sketch25 → Cut-Extrude12 (cut)
    with BuildSketch(Plane(origin=(0, 0, 30.437196595), x_dir=(-1, 0, 0), z_dir=(0, 0, -1))):
        with Locations((-24.308150334, 8)):
            Circle(SKETCH25_R)
    extrude(amount=-CUT_EXTRUDE12_DEPTH, mode=Mode.SUBTRACT)

    # Sketch23 → Cut-Extrude13 (cut)
    with BuildSketch(Plane(origin=(0, 0, 30.437196595), x_dir=(-1, 0, 0), z_dir=(0, 0, -1))):
        with Locations((3.808150334, 8)):
            Circle(SKETCH23_R)
    extrude(amount=-CUT_EXTRUDE13_DEPTH, mode=Mode.SUBTRACT)

    # Sketch24 → Cut-Extrude14 (cut)
    with BuildSketch(Plane.ZY.offset(-9.25)):
        with Locations((71.845226945, 8)):
            Circle(SKETCH24_R)
    extrude(amount=-CUT_EXTRUDE14_DEPTH, mode=Mode.SUBTRACT)


solid = part.part
